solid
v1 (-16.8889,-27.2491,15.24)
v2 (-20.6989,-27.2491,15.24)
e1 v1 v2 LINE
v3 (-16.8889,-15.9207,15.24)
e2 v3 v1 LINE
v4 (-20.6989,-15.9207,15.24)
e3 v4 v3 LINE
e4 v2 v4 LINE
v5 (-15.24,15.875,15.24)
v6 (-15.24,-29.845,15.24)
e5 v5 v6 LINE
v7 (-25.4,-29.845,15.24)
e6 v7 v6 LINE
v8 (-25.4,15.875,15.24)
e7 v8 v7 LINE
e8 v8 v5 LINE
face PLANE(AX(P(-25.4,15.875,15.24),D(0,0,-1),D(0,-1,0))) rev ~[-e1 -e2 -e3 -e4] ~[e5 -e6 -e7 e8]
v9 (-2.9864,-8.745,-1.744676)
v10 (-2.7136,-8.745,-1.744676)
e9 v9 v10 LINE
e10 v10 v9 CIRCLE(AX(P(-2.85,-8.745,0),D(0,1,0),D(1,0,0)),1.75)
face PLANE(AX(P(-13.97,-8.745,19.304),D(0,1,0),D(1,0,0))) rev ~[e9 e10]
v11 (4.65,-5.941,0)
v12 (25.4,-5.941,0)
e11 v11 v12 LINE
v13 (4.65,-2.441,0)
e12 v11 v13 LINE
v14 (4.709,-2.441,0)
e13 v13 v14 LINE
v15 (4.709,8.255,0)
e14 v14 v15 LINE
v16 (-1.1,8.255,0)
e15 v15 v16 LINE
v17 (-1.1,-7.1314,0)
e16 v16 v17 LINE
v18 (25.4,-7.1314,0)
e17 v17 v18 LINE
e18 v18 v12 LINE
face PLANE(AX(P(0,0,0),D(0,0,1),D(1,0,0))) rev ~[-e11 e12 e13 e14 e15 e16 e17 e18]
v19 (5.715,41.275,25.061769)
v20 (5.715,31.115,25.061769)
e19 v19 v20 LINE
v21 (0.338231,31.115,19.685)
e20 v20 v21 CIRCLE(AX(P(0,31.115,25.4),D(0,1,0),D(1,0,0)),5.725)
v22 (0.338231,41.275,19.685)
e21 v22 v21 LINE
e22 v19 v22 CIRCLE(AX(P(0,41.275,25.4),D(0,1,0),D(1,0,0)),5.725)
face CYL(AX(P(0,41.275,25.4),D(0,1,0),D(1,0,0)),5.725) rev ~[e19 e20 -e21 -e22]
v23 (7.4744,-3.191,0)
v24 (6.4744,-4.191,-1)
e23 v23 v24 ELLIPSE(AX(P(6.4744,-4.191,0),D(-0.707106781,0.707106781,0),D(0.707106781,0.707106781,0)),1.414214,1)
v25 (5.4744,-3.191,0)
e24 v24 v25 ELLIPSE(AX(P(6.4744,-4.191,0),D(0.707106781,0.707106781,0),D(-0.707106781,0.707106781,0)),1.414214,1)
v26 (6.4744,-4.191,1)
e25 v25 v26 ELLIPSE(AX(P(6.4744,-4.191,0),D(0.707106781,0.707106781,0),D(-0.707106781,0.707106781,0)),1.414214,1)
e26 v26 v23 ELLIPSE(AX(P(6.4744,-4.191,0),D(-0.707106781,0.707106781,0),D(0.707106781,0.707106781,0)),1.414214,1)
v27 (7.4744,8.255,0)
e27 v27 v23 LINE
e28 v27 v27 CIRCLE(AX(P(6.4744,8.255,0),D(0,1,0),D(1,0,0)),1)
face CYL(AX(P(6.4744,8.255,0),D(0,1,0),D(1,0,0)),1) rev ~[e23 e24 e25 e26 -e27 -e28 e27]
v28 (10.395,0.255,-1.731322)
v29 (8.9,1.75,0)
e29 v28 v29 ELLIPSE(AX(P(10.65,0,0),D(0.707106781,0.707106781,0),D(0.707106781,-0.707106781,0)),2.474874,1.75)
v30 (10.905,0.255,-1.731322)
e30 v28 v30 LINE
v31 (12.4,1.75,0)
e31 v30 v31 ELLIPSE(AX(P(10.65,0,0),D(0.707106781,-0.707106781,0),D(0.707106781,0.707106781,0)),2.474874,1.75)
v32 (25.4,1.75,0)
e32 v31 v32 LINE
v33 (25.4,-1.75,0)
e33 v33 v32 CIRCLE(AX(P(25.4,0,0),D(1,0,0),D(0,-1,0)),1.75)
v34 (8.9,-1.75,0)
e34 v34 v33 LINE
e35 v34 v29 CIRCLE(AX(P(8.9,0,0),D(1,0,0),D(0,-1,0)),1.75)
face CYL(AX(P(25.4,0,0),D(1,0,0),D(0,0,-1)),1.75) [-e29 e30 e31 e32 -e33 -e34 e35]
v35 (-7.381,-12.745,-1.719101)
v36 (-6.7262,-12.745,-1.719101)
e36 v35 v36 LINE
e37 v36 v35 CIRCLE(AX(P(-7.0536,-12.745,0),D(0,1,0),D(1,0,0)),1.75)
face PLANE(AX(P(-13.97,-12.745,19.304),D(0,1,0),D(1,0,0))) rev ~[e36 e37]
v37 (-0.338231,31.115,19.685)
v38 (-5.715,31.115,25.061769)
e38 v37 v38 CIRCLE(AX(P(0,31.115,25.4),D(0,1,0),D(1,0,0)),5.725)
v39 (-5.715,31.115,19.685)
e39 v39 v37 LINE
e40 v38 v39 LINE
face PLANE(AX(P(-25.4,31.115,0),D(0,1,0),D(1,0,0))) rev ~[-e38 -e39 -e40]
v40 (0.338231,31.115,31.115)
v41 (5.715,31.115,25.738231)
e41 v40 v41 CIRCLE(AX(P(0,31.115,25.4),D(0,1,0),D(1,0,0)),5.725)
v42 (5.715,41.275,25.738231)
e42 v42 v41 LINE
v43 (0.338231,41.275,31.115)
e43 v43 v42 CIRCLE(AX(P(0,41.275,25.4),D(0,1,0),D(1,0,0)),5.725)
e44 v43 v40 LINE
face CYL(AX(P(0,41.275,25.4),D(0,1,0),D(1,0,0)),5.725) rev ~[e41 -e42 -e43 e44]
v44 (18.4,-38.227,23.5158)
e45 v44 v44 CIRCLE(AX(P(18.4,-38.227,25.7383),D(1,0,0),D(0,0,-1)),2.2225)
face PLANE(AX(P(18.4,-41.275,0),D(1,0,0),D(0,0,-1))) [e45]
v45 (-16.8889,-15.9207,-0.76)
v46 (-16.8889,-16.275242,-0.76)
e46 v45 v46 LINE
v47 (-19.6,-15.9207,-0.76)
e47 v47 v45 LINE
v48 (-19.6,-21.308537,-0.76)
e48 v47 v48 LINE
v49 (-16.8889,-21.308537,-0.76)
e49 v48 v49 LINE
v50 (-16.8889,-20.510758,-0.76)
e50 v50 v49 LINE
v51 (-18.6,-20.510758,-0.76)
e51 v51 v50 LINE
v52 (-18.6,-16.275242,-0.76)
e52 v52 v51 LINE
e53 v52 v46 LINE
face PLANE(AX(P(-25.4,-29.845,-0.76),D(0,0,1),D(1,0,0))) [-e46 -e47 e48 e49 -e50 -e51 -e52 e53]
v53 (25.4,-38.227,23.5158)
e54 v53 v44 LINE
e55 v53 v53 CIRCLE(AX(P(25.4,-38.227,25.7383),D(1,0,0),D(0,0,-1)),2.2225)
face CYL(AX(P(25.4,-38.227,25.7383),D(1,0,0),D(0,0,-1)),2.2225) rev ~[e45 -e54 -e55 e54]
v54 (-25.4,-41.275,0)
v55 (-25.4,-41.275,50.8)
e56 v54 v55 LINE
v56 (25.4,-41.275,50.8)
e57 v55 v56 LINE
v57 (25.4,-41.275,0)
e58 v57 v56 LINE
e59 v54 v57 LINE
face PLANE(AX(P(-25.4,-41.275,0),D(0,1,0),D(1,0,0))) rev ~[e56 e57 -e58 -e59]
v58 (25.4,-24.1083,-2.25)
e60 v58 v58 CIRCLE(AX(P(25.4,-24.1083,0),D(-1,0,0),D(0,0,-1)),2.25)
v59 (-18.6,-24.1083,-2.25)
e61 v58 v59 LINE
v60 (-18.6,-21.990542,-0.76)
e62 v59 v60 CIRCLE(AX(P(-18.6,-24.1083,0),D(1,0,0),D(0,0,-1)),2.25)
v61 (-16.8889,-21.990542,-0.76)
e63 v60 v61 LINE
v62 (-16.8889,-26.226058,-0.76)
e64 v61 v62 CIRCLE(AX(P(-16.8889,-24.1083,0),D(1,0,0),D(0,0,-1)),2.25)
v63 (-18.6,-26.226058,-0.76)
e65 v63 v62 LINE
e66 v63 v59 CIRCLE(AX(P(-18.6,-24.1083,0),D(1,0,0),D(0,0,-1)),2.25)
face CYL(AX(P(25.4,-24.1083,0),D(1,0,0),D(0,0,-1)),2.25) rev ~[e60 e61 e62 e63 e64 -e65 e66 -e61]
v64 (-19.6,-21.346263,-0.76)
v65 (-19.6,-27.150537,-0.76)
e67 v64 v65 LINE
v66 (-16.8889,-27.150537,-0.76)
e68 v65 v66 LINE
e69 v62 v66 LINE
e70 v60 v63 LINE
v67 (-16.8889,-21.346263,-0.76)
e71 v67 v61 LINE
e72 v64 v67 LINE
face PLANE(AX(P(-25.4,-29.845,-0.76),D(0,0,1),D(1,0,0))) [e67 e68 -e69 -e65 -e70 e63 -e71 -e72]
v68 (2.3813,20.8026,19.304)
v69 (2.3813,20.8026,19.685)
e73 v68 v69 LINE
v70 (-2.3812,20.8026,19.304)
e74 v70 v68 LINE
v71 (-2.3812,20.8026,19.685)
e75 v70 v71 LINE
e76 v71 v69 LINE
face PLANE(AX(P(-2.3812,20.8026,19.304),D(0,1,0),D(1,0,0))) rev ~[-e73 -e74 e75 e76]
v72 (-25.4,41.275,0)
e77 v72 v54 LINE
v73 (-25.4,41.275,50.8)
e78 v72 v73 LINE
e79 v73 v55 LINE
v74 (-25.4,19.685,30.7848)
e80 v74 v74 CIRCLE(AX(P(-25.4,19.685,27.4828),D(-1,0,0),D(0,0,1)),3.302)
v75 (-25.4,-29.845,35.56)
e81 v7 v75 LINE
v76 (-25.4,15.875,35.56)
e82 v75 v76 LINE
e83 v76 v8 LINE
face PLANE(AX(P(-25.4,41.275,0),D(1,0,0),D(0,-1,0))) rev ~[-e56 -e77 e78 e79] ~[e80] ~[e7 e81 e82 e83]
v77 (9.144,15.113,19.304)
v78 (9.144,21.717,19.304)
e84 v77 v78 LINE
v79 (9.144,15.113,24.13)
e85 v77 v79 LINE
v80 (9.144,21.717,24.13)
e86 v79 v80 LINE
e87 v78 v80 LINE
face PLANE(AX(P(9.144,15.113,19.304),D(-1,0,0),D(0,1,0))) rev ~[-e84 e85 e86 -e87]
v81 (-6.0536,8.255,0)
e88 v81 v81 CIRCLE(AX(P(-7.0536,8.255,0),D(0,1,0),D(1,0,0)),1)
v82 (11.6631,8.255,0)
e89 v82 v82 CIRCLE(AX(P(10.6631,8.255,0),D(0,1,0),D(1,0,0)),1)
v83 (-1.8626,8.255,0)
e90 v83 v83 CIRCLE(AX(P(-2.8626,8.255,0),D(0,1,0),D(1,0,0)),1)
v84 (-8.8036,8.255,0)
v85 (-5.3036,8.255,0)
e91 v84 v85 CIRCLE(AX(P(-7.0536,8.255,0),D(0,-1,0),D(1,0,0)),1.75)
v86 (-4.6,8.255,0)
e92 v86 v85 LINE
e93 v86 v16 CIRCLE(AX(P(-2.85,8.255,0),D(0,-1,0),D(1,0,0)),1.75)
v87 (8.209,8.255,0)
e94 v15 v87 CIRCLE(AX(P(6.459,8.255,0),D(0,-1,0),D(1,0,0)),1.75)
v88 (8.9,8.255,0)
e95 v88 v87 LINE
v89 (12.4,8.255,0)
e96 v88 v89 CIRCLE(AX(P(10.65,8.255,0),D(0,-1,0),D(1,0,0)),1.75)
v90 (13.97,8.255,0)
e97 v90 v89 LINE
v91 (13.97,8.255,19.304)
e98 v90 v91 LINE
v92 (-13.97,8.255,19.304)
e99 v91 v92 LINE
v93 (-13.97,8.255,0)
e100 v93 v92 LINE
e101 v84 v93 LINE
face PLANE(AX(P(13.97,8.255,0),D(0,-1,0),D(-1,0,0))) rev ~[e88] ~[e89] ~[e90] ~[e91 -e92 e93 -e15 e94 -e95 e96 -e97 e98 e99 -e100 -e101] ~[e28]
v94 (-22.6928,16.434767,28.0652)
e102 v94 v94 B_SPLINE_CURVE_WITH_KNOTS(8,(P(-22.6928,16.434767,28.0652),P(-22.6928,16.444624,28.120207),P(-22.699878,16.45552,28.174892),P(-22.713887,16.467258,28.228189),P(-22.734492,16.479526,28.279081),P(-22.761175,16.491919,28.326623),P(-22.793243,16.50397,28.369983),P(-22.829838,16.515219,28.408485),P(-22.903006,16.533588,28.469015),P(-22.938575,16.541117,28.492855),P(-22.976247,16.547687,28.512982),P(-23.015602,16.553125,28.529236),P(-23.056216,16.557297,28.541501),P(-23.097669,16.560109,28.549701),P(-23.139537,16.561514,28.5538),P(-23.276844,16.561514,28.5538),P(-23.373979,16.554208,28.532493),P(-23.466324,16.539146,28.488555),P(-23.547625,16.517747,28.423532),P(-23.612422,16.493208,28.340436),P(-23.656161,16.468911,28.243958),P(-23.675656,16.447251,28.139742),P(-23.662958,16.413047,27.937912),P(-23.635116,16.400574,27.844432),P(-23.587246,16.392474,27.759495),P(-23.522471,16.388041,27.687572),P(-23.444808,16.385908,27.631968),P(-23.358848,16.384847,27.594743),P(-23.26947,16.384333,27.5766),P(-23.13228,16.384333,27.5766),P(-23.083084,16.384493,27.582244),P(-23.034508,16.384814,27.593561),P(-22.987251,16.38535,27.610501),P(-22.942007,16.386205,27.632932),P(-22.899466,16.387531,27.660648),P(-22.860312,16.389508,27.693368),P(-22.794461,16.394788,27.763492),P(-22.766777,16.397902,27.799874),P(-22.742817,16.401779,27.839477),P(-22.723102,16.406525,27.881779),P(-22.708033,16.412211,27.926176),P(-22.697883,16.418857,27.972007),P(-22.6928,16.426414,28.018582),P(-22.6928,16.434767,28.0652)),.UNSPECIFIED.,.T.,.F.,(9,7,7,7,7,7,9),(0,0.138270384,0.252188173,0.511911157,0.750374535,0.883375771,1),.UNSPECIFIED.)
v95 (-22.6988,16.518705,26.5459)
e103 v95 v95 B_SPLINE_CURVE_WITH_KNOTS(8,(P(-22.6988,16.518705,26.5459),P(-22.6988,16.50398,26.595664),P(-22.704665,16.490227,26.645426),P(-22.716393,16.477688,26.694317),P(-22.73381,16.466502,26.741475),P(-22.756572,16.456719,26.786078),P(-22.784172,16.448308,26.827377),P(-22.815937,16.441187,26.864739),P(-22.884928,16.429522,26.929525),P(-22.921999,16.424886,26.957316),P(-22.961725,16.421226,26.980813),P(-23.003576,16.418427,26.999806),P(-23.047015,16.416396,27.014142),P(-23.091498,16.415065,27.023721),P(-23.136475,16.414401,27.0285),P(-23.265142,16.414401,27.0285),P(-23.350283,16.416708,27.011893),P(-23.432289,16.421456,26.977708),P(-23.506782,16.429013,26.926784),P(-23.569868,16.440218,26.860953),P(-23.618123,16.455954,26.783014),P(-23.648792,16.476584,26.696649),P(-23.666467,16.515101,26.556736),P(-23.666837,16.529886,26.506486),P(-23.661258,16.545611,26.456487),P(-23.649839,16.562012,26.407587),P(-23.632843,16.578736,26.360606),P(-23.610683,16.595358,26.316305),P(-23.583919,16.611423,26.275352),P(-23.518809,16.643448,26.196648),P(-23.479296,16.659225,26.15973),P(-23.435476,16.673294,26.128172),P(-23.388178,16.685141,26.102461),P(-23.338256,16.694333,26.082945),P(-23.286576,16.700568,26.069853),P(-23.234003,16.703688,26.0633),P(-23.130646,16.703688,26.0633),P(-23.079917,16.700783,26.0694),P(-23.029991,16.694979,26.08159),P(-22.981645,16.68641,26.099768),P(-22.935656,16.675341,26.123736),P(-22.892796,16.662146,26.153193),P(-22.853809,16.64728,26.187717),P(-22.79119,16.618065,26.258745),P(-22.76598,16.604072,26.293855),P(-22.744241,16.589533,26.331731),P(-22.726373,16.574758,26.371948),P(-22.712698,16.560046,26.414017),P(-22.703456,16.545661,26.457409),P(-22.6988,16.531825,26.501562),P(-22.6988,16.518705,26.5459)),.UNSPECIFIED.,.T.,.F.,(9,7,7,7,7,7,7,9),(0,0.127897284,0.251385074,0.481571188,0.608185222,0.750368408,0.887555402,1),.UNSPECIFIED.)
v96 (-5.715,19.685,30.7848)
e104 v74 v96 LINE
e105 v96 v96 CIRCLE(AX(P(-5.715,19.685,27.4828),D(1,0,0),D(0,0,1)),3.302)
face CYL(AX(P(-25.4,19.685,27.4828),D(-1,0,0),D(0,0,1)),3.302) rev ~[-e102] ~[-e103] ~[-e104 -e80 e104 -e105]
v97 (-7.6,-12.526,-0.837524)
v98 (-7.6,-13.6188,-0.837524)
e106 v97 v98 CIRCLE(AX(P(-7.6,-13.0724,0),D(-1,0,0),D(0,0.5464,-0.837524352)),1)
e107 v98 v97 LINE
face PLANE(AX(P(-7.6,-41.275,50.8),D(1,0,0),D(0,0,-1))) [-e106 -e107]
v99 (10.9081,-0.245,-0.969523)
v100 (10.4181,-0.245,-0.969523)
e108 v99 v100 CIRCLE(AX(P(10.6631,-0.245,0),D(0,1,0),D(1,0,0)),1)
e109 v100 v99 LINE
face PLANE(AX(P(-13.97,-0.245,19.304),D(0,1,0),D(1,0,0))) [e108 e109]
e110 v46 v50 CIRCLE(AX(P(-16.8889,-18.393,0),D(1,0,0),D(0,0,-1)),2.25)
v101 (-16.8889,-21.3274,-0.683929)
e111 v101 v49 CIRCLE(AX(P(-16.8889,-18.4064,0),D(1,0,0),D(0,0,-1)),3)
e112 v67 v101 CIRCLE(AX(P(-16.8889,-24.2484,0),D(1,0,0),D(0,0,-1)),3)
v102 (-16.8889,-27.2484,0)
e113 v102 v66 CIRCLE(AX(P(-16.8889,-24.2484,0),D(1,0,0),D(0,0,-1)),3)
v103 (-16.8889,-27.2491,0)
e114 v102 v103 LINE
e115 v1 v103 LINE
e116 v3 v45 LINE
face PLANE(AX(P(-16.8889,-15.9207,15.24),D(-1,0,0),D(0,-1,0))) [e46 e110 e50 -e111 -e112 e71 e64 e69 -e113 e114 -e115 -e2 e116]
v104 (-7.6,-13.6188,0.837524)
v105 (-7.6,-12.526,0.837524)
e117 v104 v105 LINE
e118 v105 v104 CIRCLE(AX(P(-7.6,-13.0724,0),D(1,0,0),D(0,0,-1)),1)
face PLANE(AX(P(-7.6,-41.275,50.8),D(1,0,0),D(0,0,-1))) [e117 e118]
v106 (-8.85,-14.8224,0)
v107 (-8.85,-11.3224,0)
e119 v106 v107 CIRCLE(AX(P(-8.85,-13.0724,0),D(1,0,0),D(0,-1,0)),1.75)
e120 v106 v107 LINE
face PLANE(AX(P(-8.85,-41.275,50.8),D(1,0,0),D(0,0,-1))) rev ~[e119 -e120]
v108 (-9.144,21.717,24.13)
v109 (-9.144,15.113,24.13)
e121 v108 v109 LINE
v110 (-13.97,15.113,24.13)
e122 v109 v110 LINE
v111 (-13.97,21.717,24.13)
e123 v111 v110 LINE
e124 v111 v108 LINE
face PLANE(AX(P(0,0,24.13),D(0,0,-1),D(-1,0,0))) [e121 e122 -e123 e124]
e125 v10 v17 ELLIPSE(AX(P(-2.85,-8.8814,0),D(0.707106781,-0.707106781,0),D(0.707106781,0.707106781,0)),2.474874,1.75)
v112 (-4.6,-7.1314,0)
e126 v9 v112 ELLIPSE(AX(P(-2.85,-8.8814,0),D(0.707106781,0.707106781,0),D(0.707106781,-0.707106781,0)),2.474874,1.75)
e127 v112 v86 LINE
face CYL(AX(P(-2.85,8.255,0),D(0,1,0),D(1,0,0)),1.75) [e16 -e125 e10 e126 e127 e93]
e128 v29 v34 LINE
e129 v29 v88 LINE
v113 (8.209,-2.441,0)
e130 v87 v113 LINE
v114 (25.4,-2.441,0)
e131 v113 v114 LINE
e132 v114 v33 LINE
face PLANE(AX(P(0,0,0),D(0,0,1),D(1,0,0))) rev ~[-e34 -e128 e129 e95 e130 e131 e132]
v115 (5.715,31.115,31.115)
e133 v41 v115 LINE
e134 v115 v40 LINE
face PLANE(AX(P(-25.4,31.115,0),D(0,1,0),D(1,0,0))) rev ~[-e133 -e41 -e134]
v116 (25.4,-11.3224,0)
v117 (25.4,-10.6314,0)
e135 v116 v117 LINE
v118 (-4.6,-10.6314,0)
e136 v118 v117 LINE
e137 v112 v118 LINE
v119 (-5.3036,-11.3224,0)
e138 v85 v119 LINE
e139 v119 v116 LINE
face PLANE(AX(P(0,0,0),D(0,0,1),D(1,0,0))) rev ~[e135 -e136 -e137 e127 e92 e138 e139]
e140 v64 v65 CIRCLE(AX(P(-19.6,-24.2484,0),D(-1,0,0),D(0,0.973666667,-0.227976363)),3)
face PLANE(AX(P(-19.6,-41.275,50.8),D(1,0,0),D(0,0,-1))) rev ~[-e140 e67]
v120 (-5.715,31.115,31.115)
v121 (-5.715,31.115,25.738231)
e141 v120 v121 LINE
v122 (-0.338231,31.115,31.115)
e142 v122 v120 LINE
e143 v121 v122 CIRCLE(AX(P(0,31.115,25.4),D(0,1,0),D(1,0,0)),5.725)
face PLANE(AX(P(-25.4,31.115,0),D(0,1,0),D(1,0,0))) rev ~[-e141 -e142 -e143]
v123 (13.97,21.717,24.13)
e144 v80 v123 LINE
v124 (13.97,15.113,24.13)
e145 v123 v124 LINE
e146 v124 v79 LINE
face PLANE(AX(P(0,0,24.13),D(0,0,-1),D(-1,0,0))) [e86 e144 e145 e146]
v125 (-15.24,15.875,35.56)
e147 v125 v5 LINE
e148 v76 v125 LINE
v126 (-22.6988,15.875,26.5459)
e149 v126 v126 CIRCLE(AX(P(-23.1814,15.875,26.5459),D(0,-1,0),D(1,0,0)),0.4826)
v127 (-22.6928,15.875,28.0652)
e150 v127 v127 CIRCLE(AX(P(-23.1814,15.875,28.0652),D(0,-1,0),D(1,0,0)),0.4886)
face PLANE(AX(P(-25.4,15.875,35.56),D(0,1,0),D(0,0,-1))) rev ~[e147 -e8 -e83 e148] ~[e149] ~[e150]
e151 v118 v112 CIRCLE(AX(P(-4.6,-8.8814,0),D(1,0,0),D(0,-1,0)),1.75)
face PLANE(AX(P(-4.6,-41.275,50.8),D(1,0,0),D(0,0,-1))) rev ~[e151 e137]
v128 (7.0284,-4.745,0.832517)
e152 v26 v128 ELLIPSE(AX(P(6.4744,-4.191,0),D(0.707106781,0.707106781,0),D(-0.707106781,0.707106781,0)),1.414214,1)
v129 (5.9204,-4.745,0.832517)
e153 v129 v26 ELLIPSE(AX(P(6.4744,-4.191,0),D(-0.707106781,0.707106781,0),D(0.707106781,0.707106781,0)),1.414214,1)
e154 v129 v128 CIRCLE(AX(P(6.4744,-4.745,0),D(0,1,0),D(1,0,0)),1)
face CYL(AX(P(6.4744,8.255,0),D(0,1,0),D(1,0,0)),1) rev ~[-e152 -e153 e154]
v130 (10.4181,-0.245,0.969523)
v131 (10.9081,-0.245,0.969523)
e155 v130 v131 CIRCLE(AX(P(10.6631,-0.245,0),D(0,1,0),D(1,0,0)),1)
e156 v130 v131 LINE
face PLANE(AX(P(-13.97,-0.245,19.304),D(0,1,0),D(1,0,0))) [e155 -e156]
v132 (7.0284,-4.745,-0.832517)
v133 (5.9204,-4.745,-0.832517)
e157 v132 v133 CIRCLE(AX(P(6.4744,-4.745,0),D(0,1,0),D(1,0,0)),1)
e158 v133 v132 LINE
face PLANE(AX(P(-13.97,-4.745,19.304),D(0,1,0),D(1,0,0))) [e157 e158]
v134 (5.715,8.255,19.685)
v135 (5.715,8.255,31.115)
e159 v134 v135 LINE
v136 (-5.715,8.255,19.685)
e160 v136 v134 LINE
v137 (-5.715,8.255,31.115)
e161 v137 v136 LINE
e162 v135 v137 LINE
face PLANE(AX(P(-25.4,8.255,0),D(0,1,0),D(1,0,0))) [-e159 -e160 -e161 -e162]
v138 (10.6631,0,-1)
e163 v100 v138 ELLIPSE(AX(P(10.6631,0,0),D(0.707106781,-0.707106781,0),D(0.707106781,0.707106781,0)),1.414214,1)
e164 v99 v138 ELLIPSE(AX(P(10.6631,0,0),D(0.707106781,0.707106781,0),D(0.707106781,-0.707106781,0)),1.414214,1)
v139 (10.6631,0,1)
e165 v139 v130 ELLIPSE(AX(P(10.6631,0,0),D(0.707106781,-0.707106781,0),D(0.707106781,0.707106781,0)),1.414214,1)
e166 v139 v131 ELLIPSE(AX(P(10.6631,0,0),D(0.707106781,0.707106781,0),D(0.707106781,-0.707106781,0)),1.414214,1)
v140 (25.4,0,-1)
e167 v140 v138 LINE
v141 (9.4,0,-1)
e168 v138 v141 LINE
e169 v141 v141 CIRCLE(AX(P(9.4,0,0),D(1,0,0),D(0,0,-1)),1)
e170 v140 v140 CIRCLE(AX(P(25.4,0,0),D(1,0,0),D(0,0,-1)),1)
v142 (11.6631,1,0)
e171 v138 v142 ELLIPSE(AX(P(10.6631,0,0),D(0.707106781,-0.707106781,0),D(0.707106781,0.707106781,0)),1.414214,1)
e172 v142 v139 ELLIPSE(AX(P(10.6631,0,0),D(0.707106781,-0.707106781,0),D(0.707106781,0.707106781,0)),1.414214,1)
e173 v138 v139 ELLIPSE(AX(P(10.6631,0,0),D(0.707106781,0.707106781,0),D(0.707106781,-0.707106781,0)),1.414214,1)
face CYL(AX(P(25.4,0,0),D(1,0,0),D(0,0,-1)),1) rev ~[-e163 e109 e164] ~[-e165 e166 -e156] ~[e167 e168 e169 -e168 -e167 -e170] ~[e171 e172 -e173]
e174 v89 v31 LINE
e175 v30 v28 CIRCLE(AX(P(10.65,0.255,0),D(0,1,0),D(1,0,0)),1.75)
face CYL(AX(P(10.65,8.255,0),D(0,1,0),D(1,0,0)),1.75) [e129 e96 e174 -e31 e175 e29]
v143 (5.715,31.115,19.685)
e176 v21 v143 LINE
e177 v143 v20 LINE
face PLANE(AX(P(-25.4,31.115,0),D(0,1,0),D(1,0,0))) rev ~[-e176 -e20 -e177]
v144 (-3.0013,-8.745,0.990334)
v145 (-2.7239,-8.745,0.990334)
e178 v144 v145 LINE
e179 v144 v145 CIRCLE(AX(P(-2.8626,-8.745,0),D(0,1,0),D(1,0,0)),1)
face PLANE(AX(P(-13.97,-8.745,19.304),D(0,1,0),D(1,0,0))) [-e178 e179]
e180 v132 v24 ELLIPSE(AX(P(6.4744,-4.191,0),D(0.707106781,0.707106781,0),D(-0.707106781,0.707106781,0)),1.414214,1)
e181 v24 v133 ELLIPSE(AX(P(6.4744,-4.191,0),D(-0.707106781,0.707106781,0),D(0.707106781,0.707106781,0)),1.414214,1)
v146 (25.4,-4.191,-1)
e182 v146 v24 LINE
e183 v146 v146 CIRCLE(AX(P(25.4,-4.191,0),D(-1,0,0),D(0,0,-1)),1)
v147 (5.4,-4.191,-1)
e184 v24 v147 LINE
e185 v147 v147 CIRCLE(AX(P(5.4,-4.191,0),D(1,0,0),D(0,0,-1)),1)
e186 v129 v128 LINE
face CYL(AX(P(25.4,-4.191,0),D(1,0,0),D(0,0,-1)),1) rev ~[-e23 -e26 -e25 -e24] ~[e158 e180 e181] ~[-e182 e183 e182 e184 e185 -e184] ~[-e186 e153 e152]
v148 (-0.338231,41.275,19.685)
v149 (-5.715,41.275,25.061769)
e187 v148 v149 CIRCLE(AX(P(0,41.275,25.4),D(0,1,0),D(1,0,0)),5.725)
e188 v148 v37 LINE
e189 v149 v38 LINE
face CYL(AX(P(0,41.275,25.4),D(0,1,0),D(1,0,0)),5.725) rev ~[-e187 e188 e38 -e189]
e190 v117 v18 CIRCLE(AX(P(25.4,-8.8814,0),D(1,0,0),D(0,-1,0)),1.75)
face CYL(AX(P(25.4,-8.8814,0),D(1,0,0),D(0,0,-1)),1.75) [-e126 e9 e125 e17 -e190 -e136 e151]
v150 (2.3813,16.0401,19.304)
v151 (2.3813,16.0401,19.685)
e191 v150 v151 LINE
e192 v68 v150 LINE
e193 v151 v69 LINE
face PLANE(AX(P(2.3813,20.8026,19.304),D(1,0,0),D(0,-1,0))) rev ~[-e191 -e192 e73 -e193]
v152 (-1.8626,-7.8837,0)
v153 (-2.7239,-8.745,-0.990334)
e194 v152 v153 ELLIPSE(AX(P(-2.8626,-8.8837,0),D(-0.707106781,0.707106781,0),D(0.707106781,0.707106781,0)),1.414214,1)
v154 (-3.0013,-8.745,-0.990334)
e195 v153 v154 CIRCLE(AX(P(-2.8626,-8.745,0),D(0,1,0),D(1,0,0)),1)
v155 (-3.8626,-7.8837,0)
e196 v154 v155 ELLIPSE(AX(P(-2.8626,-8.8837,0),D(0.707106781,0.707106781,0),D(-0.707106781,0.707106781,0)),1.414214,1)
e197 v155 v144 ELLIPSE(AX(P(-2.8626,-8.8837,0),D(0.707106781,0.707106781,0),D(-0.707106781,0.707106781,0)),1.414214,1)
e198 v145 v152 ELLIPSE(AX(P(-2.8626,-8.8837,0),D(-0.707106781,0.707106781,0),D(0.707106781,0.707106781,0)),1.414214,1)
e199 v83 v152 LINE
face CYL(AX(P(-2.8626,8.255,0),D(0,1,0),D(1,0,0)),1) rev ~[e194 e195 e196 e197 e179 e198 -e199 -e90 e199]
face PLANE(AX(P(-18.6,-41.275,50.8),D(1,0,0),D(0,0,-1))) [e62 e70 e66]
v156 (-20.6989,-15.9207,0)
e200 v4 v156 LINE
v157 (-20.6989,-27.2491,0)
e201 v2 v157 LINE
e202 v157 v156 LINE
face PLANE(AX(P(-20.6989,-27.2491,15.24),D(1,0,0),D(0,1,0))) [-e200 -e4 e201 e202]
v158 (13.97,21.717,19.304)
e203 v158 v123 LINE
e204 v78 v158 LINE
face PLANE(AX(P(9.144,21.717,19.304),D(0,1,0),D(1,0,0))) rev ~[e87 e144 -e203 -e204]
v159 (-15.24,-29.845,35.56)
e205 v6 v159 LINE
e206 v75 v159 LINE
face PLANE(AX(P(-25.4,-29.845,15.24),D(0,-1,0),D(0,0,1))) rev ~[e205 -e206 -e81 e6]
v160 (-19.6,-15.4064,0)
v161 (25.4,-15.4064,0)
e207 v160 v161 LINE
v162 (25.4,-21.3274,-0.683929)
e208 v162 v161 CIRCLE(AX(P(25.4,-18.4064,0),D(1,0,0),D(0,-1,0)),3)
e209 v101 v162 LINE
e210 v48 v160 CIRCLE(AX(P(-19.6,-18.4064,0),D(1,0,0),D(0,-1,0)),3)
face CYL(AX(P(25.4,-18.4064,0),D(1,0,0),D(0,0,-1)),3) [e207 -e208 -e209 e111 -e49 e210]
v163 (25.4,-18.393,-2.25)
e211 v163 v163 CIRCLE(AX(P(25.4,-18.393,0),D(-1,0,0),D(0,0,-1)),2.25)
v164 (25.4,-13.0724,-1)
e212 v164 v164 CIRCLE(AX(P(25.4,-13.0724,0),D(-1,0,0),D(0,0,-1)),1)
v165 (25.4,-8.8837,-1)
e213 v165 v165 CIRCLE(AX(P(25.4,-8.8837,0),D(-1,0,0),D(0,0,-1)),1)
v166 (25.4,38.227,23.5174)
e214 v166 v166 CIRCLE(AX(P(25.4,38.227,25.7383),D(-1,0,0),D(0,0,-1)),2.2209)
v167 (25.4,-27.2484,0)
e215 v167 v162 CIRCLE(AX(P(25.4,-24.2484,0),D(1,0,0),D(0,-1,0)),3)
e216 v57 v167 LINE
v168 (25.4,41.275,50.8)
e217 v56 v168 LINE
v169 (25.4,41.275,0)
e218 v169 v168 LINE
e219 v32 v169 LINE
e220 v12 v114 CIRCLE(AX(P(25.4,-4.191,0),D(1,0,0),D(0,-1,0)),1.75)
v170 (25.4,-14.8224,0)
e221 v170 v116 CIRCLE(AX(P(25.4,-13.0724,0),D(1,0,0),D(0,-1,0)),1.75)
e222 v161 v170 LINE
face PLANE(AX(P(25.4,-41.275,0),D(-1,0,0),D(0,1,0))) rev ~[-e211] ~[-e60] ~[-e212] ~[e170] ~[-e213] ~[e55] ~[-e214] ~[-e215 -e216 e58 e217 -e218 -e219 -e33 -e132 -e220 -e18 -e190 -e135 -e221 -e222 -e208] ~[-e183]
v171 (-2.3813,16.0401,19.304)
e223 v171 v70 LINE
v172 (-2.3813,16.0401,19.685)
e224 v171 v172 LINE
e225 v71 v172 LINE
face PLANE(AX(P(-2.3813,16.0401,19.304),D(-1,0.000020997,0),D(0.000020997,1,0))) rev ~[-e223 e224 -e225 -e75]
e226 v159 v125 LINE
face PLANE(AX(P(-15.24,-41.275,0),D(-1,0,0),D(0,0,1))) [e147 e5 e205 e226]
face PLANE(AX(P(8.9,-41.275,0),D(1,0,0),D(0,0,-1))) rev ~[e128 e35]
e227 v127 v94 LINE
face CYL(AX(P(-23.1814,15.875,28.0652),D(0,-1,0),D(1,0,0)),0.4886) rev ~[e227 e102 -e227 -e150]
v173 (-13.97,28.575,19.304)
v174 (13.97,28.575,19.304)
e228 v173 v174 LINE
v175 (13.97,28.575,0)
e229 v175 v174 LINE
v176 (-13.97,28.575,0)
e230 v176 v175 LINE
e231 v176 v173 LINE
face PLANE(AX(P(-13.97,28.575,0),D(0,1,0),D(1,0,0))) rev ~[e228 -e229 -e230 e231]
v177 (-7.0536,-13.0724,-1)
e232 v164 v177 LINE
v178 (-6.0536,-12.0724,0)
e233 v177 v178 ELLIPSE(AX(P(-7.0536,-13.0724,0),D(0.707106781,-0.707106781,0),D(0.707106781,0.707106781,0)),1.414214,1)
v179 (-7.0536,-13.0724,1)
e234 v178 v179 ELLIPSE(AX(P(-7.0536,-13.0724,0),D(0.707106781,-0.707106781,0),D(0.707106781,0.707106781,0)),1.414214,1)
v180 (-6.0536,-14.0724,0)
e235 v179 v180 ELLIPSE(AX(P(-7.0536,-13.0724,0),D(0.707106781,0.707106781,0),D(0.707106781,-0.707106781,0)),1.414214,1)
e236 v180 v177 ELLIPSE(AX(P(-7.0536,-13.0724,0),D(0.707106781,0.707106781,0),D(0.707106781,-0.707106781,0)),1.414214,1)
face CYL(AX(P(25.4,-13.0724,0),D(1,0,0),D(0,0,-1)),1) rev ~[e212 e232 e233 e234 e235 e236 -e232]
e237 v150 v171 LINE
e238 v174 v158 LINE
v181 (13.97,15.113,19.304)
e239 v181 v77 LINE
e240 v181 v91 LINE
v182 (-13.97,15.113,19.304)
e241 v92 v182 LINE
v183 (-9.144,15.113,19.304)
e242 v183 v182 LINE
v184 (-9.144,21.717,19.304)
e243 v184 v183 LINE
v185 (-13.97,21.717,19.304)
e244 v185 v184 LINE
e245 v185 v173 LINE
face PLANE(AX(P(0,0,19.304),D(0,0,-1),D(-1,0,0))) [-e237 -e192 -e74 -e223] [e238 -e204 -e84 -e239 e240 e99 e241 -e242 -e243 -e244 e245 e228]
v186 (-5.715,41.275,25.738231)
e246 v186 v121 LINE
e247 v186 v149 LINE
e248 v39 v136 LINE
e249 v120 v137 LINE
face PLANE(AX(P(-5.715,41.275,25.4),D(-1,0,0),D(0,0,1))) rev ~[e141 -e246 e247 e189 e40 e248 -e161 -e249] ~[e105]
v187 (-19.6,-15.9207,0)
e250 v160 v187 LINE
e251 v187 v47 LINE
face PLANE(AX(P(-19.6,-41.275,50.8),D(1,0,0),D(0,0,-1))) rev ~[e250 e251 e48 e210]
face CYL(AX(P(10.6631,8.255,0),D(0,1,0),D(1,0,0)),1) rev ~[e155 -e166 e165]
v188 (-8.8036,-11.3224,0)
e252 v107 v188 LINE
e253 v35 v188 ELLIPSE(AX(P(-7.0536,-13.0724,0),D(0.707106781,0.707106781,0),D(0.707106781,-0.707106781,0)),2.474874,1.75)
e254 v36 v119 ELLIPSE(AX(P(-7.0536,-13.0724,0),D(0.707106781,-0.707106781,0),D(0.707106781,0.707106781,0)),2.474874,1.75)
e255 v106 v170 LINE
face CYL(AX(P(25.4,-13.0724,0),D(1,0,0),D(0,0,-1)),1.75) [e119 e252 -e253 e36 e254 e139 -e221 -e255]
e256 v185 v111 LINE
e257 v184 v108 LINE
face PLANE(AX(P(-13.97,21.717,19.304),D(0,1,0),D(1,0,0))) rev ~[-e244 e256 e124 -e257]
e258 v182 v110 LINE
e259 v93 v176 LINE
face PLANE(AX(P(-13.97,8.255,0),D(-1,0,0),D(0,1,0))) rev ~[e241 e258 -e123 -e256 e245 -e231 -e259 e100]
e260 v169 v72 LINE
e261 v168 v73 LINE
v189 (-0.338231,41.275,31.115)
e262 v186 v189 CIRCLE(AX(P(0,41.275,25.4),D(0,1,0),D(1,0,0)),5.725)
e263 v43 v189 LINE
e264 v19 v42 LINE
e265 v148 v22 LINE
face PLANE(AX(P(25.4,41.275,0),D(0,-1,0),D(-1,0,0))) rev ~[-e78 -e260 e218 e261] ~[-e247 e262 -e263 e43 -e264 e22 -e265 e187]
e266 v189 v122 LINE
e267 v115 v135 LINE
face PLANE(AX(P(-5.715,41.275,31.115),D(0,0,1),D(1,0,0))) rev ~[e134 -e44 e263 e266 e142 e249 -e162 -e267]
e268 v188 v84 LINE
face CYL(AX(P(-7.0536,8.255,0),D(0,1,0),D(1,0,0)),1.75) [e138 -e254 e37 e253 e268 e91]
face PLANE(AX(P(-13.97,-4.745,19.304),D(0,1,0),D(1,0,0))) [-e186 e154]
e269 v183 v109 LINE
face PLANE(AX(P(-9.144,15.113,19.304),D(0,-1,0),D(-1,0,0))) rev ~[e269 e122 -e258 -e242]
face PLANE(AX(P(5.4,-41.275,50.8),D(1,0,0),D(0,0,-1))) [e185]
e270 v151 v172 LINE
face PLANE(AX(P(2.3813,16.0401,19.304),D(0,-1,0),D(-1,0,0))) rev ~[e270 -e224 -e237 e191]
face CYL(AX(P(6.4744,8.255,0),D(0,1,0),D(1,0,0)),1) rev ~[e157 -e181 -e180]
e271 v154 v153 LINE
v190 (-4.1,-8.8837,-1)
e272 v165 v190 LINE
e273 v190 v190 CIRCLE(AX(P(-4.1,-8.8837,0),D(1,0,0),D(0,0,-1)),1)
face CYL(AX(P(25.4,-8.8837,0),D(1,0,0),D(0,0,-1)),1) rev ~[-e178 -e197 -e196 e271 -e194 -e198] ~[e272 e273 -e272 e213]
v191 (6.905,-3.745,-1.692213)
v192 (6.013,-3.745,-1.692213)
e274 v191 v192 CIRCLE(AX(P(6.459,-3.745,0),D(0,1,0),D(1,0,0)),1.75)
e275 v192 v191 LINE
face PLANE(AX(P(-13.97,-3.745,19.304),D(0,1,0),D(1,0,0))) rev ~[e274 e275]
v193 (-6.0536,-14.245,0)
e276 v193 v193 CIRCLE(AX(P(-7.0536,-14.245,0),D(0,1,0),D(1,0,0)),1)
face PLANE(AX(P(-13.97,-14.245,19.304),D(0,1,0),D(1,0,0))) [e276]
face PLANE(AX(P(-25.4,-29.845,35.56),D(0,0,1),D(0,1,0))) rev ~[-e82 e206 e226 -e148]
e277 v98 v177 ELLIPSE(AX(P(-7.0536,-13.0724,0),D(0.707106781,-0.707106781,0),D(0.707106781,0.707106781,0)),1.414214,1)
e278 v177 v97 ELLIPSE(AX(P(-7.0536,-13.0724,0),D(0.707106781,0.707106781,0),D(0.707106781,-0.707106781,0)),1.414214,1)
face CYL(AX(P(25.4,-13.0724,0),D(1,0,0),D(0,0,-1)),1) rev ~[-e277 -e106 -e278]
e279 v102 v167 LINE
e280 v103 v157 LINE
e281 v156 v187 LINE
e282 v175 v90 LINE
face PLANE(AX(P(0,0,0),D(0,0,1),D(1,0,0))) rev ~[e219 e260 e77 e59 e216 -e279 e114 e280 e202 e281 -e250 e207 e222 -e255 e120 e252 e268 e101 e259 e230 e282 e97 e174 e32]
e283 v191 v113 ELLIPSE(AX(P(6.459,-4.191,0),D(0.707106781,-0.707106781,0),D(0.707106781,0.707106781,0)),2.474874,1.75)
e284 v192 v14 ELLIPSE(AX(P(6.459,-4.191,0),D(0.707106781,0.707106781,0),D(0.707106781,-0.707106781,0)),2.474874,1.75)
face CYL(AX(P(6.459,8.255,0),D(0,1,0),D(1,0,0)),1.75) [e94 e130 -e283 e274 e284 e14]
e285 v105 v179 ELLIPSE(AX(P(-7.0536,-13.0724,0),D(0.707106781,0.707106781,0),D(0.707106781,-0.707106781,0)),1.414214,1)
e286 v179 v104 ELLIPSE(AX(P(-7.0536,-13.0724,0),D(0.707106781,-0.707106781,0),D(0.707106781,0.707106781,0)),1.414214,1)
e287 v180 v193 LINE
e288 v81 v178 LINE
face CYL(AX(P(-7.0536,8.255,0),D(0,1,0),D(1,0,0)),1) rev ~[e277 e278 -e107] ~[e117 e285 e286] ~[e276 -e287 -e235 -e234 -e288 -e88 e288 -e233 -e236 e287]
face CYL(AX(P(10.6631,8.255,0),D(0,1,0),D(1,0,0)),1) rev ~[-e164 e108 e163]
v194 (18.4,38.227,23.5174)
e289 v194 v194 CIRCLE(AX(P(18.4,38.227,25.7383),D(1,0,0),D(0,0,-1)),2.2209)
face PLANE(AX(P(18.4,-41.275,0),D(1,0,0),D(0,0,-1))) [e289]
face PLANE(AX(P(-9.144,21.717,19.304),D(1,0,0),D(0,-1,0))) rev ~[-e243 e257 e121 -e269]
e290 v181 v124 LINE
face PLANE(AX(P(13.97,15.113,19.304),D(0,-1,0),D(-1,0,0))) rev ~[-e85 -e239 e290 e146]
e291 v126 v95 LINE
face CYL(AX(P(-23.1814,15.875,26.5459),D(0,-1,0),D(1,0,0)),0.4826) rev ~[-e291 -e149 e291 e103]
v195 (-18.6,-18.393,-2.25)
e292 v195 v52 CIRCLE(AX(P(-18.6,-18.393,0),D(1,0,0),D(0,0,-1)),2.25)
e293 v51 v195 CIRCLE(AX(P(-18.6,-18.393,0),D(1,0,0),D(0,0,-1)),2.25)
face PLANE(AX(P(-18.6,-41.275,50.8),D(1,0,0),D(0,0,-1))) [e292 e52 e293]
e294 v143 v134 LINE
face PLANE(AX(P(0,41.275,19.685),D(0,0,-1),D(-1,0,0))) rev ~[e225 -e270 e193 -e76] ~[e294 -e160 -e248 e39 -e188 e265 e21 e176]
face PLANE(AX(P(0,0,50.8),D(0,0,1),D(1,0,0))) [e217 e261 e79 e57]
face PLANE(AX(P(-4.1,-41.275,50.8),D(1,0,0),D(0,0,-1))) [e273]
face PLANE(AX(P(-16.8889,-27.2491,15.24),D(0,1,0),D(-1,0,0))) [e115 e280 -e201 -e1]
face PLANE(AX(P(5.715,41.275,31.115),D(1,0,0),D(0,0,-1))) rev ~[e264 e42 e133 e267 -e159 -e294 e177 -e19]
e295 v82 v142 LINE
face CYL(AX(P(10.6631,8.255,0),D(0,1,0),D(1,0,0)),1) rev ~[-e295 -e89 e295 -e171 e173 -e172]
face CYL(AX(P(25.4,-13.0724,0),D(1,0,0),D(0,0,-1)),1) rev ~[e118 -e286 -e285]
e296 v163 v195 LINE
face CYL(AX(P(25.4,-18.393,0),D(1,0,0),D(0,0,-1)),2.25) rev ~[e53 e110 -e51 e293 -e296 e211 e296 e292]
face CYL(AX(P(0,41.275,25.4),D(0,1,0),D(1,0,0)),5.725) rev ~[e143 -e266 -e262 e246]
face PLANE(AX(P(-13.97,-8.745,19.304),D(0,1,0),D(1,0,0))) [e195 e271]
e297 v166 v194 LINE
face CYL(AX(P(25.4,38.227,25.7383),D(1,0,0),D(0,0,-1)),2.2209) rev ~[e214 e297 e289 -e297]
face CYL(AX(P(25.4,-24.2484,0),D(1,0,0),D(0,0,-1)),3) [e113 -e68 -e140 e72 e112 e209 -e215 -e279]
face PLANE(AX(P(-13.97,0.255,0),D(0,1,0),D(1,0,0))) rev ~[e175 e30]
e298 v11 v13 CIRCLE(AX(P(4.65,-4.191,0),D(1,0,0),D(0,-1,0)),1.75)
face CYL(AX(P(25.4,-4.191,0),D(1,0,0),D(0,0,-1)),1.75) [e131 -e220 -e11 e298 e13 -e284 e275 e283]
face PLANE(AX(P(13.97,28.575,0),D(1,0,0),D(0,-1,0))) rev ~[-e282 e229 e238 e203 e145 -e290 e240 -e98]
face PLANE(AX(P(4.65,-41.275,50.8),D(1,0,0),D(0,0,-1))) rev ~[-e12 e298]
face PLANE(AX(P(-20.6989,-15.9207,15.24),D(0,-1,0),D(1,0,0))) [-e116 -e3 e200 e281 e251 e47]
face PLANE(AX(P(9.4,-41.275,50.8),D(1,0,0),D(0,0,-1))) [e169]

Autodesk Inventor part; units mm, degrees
ref_plane "YZ Plane" through (0, 0, 0) normal (1, 0, 0) x (0, 1, 0)
ref_plane "XZ Plane" through (0, 0, 0) normal (0, 1, 0) x (-1, 0, 0)
ref_plane "XY Plane" through (0, 0, 0) normal (0, 0, 1) x (1, 0, 0)
sketch "Sketch1" plane through (0, 0, 0) normal (0, 0, 1) x (1, 0, 0)
  line L0 (-25.4, -41.275) -> (25.4, -41.275)
  line L1 (25.4, -41.275) -> (25.4, 41.275)
  line L2 (25.4, 41.275) -> (-25.4, 41.275)
  line L3 (-25.4, 41.275) -> (-25.4, -41.275)
  line L4 (-25.4, -41.275) -> (25.4, 41.275) construction
  line L5 (25.4, -41.275) -> (-25.4, 41.275) construction
  point P0 (0, 0)
  dimension "d0" = 50.8
  dimension "d1" = 82.55
extrude "Extrusion1" add sketch "Sketch1" along normal blind 50.8
sketch "Sketch2" plane through (-25.4, 41.275, 0) normal (0, 1, 0) x (1, 0, 0)
  circle A0 centre (25.4, -25.4) radius 5.715
  line L0 (50.8, 0) -> (0, 0) projected
  point P0 (25.4, 0)
  dimension "d4" = 11.43
  dimension "d5" = 25.4
extrude "Extrusion2" cut sketch "Sketch2" against normal blind 33.02
sketch "Sketch3" plane through (0, 0, 0) normal (0, 0, -1) x (-1, 0, 0)
  line L0 (-13.97, 8.255) -> (13.97, 8.255)
  line L1 (13.97, 8.255) -> (13.97, 28.575)
  line L2 (13.97, 28.575) -> (-13.97, 28.575)
  line L3 (-13.97, 28.575) -> (-13.97, 8.255)
  line L4 (-13.97, 8.255) -> (13.97, 28.575) construction
  line L5 (13.97, 8.255) -> (-13.97, 28.575) construction
  line L6 (-25.4, 41.275) -> (25.4, 41.275) projected
  line L7 (25.4, 41.275) -> (25.4, -41.275) projected
  point P0 (0, 0)
  point P1 (0, 18.415)
  dimension "d9" = 27.94
  dimension "d10" = 20.32
  dimension "d11" = 12.7
  dimension "d14" = 25.4
extrude "Extrusion3" cut sketch "Sketch3" against normal blind 19.304
sketch "Sketch6" plane through (0, 0, 19.304) normal (0, 0, -1) x (-1, 0, 0)
  line L0 (-13.97, 15.113) -> (-9.144, 15.113)
  line L1 (-9.144, 15.113) -> (-9.144, 21.717)
  line L2 (-9.144, 21.717) -> (-13.97, 21.717)
  line L3 (-13.97, 21.717) -> (-13.97, 15.113)
  line L4 (-13.97, 15.113) -> (-9.144, 21.717) construction
  line L5 (-9.144, 15.113) -> (-13.97, 21.717) construction
  line L6 (13.97, 28.575) -> (13.97, 8.255) projected
  line L7 (9.144, 15.113) -> (13.97, 15.113)
  line L8 (13.97, 15.113) -> (13.97, 21.717)
  line L9 (13.97, 21.717) -> (9.144, 21.717)
  line L10 (9.144, 21.717) -> (9.144, 15.113)
  line L11 (9.144, 15.113) -> (13.97, 21.717) construction
  line L12 (13.97, 15.113) -> (9.144, 21.717) construction
  line L13 (-13.97, 8.255) -> (-13.97, 28.575) projected
  line L14 (-13.97, 28.575) -> (13.97, 28.575) projected
  point P0 (0, 0)
  point P1 (-11.557, 18.415)
  point P2 (11.557, 18.415)
  point P3 (13.97, 15.113)
  dimension "d15" = 6.604
  dimension "d16" = 4.826
  dimension "d17" = 2.413
  dimension "d18" = 4.826
  dimension "d19" = 6.604
  dimension "d21" = 6.858
  dimension "d22" = 6.858
extrude "Extrusion4" cut sketch "Sketch6" against normal blind 4.826
sketch "Sketch7" plane through (0, 0, 19.304) normal (0, 0, -1) x (-1, 0, 0)
  line L0 (-2.3813, 16.0401) -> (2.3813, 16.0401)
  line L1 (2.3813, 16.0401) -> (2.3812, 20.8026)
  line L2 (2.3812, 20.8026) -> (-2.3813, 20.8026)
  line L3 (-2.3813, 20.8026) -> (-2.3813, 16.0401)
  line L4 (-2.3813, 16.0401) -> (2.3812, 20.8026) construction
  line L5 (2.3813, 16.0401) -> (-2.3813, 20.8026) construction
  line L6 (9.144, 15.113) -> (9.144, 21.717) projected
  line L7 (-13.97, 28.575) -> (13.97, 28.575) projected
  point P0 (0, 0)
  point P1 (0, 18.4213)
  point P2 (0, 20.8026)
  dimension "d25" = 4.7625
  dimension "d26" = 9.144
  dimension "d27" = 4.7625
  dimension "d29" = 7.7724
extrude "Extrusion5" cut sketch "Sketch7" against normal blind 4.826
sketch "Sketch8" plane through (-25.4, -41.275, 0) normal (-1, 0, 0) x (0, 0, 1)
  line L0 (15.24, 11.43) -> (35.56, 11.43)
  line L1 (35.56, 11.43) -> (35.56, 57.15)
  line L2 (35.56, 57.15) -> (15.24, 57.15)
  line L3 (15.24, 57.15) -> (15.24, 11.43)
  line L4 (15.24, 11.43) -> (35.56, 57.15) construction
  line L5 (35.56, 11.43) -> (15.24, 57.15) construction
  line L6 (50.8, 82.55) -> (50.8, 0) projected
  line L7 (0, 82.55) -> (50.8, 82.55) projected
  point P0 (0, 41.275)
  point P1 (25.4, 34.29)
  dimension "d32" = 45.72
  dimension "d33" = 20.32
  dimension "d34" = 25.4
  dimension "d35" = 25.4
extrude "Extrusion6" cut sketch "Sketch8" against normal blind 10.16
sketch "Sketch11" plane through (-25.4, -41.275, 0) normal (-1, 0, 0) x (0, 0, 1)
  circle A0 centre (27.4828, 60.96) radius 3.302
  line L0 (0, 82.55) -> (50.8, 82.55) projected
  line L1 (50.8, 82.55) -> (50.8, 0) projected
  point P0 (0, 41.275)
  dimension "d43" = 6.604
  dimension "d44" = 21.59
  dimension "d45" = 23.3172
extrude "Extrusion7" cut sketch "Sketch11" against normal blind 25.4
sketch "Sketch14" plane through (-25.4, 41.275, 0) normal (0, 1, 0) x (1, 0, 0)
  line L0 (19.685, -31.115) -> (31.115, -31.115)
  line L1 (31.115, -31.115) -> (31.115, -19.685)
  line L2 (31.115, -19.685) -> (19.685, -19.685)
  line L3 (19.685, -19.685) -> (19.685, -31.115)
  circle A0 centre (25.4, -25.4) radius 5.715 projected
  line L4 (19.685, -31.115) -> (31.115, -19.685) construction
  line L5 (31.115, -31.115) -> (19.685, -19.685) construction
  point P0 (25.4, 0)
extrude "Extrusion8" cut sketch "Sketch14" against normal blind 33.02
sketch "Sketch15" plane through (-25.4, 41.275, 0) normal (0, 1, 0) x (1, 0, 0)
  circle A0 centre (25.4, -25.4) radius 5.725
  line L0 (31.115, -19.685) -> (31.115, -31.115) projected
  line L1 (19.685, -19.685) -> (31.115, -19.685)
  line L2 (31.115, -19.685) -> (31.115, -31.115)
  line L3 (31.115, -31.115) -> (19.685, -31.115)
  line L4 (19.685, -31.115) -> (19.685, -19.685)
  line L5 (19.685, -19.685) -> (31.115, -31.115) construction
  line L6 (31.115, -19.685) -> (19.685, -31.115) construction
  point P0 (25.4, 0)
  point P1 (19.685, -25.0617)
  point P2 (25.0617, -19.685)
  point P3 (25.7383, -19.685)
  point P4 (31.115, -25.0617)
  point P5 (19.685, -25.7383)
  point P6 (25.0617, -31.115)
  point P7 (25.7383, -31.115)
  point P8 (31.115, -25.7383)
extrude "Extrusion9" add sketch "Sketch15" against normal blind 10.16 contours A0 L1 L0 | L0 L3 A0 | A0 L4 L1 | L3 L4 A0
sketch "Sketch16" plane through (-25.4, 15.875, 15.24) normal (0, -1, 0) x (1, 0, 0)
  circle A0 centre (2.2186, 12.8252) radius 0.4886
  circle A1 centre (2.2186, 11.3059) radius 0.4826
  line L0 (11.43, 4.064) -> (11.43, 8.89) projected
  point P0 (25.4, -15.24)
  dimension "d57" = 0.9772
  dimension "d59" = 0.9652
extrude "Extrusion10" cut sketch "Sketch16" against normal blind 2.54
sketch "Sketch17" plane through (25.4, -41.275, 0) normal (1, 0, 0) x (0, 0, -1)
  line L0 (-25.7383, 82.55) -> (-25.7383, 72.39) projected
  circle A0 centre (-25.7383, 79.502) radius 2.2209
  circle A1 centre (-25.7383, 3.048) radius 2.2225
  line L1 (0, 82.55) -> (-50.8, 82.55) projected
  line L2 (0, 0) -> (-50.8, 0) projected
  point P0 (0, 41.275)
  dimension "d62" = 4.4418
  dimension "d63" = 4.445
  dimension "d64" = 3.048
  dimension "d65" = 3.048
extrude "Extrusion11" cut sketch "Sketch17" against normal blind 7
sketch "Sketch18" plane through (25.4, -41.275, 0) normal (1, 0, 0) x (0, 0, -1)
  line L0 (0, 0) -> (0, 82.55) projected
  circle A0 centre (0, 41.275) radius 1.75
  point P0 (0, 41.275)
  dimension "d71" = 3.5
extrude "Extrusion12" add sketch "Sketch18" against normal blind 16.5
sketch "Sketch19" plane through (-13.97, 8.255, 0) normal (0, 1, 0) x (1, 0, 0)
  line L0 (0, 0) -> (27.94, 0) projected
  circle A0 centre (24.62, 0) radius 1.75
  line L1 (22.87, 1.75) -> (22.87, 0) projected
  point P0 (13.97, 0)
  dimension "d77" = 3.5
  dimension "d78" = 1.75
extrude "Extrusion13" add sketch "Sketch19" against normal blind 8
sketch "Sketch20" plane through (25.4, -41.275, 50.8) normal (1, 0, 0) x (0, 0, -1)
  circle A0 centre (50.8, 41.275) radius 1
  dimension "d81" = 2
extrude "Extrusion14" cut sketch "Sketch20" against normal blind 16
sketch "Sketch21" plane through (-13.97, 8.255, 19.304) normal (0, 1, 0) x (1, 0, 0)
  circle A0 centre (24.6331, 19.304) radius 1
  arc A1 (26.37, 19.304) -> (22.87, 19.304) centre (24.62, 19.304) ccw projected
  point P0 (13.97, 19.304)
  dimension "d84" = 2
extrude "Extrusion15" cut sketch "Sketch21" against normal blind 8.5
sketch "Sketch22" plane through (25.4, -41.275, 50.8) normal (1, 0, 0) x (0, 0, -1)
  line L0 (50.8, 82.55) -> (50.8, 0) projected
  circle A0 centre (50.8, 37.084) radius 1.75
  point P0 (50.8, 41.275)
  point P1 (50.8, 41.275)
  dimension "d88" = 3.5
  dimension "d89" = 4.191
extrude "Extrusion16" add sketch "Sketch22" against normal blind 20.75
sketch "Sketch23" plane through (-13.97, 8.255, 19.304) normal (0, 1, 0) x (1, 0, 0)
  line L0 (0, 19.304) -> (22.87, 19.304) projected
  circle A0 centre (20.429, 19.304) radius 1.75
  arc A1 (26.37, 19.304) -> (22.87, 19.304) centre (24.62, 19.304) ccw projected
  point P0 (13.97, 19.304)
  dimension "d92" = 3.5
  dimension "d93" = 4.191
extrude "Extrusion17" add sketch "Sketch23" against normal blind 12
sketch "Sketch24" plane through (-13.97, 8.255, 19.304) normal (0, 1, 0) x (1, 0, 0)
  circle A0 centre (20.4444, 19.304) radius 1
  arc A1 (22.179, 19.304) -> (18.679, 19.304) centre (20.429, 19.304) ccw projected
  point P0 (13.97, 19.304)
  dimension "d96" = 2
  dimension "d97" = 0.0154
extrude "Extrusion18" cut sketch "Sketch24" against normal blind 13
sketch "Sketch25" plane through (25.4, -41.275, 50.8) normal (1, 0, 0) x (0, 0, -1)
  line L0 (50.8, 38.834) -> (50.8, 35.334) projected
  circle A0 centre (50.8, 37.084) radius 1
  point P0 (50.8, 41.275)
  dimension "d100" = 2
extrude "Extrusion19" cut sketch "Sketch25" against normal blind 20
sketch "Sketch26" plane through (25.4, -41.275, 50.8) normal (1, 0, 0) x (0, 0, -1)
  line L0 (50.8, 82.55) -> (50.8, 0) projected
  circle A0 centre (50.8, 32.3936) radius 1.75
  point P0 (50.8, 41.275)
  dimension "d103" = 3.5
extrude "Extrusion20" add sketch "Sketch26" against normal blind 30
sketch "Sketch27" plane through (-13.97, 8.255, 19.304) normal (0, 1, 0) x (1, 0, 0)
  line L0 (0, 19.304) -> (18.679, 19.304) projected
  circle A0 centre (11.12, 19.304) radius 1.75
  line L1 (9.37, 21.054) -> (9.37, 19.304) projected
  point P0 (13.97, 19.304)
  dimension "d106" = 3.5
  dimension "d107" = 1.75
extrude "Extrusion21" add sketch "Sketch27" against normal blind 17
sketch "Sketch28" plane through (-13.97, 8.255, 19.304) normal (0, 1, 0) x (1, 0, 0)
  circle A0 centre (11.1074, 19.304) radius 1
  point P0 (13.97, 19.304)
  dimension "d110" = 2
extrude "Extrusion22" cut sketch "Sketch28" against normal blind 17
sketch "Sketch30" plane through (25.4, -41.275, 50.8) normal (1, 0, 0) x (0, 0, -1)
  line L0 (50.8, 82.55) -> (50.8, 0) projected
  circle A0 centre (50.8, 32.3913) radius 1
  point P0 (50.8, 41.275)
  dimension "d113" = 2
extrude "Extrusion23" cut sketch "Sketch30" against normal blind 29.5
sketch "Sketch31" plane through (25.4, -41.275, 50.8) normal (1, 0, 0) x (0, 0, -1)
  line L0 (50.8, 0) -> (50.8, 30.6436) projected
  circle A0 centre (50.8, 28.2026) radius 1.75
  line L1 (50.8, 34.1436) -> (50.8, 30.6436) projected
  point P0 (50.8, 41.275)
  point P1 (50.8, 32.3936)
  dimension "d116" = 3.5
  dimension "d117" = 4.191
extrude "Extrusion24" add sketch "Sketch31" against normal blind 34.25
sketch "Sketch32" plane through (-13.97, 8.255, 19.304) normal (0, 1, 0) x (1, 0, 0)
  line L0 (0, 19.304) -> (9.37, 19.304) projected
  circle A0 centre (6.9164, 19.304) radius 1.75
  circle A1 centre (11.1074, 19.304) radius 1 projected
  point P0 (13.97, 19.304)
  dimension "d120" = 3.5
  dimension "d121" = 4.191
extrude "Extrusion25" add sketch "Sketch32" against normal blind 21 contours A0 L0 | L0 A0
sketch "Sketch33" plane through (25.4, -41.275, 50.8) normal (1, 0, 0) x (0, 0, -1)
  line L0 (50.8, 29.9526) -> (50.8, 26.4526) projected
  circle A0 centre (50.8, 28.2026) radius 1
  point P0 (50.8, 41.275)
  dimension "d124" = 2
extrude "Extrusion26" cut sketch "Sketch33" against normal blind 33
sketch "Sketch34" plane through (-13.97, 8.255, 19.304) normal (0, 1, 0) x (1, 0, 0)
  arc A0 (8.6664, 19.304) -> (5.1664, 19.304) centre (6.9164, 19.304) ccw projected
  circle A1 centre (6.9164, 19.304) radius 1
  point P0 (13.97, 19.304)
  dimension "d127" = 2
extrude "Extrusion27" cut sketch "Sketch34" against normal blind 22.5
sketch "Sketch35" plane through (25.4, -41.275, 50.8) normal (1, 0, 0) x (0, 0, -1)
  line L0 (50.8, 0) -> (50.8, 26.4526) projected
  circle A0 centre (50.8, 22.8686) radius 3
  circle A1 centre (50.8, 28.2026) radius 1 projected
  point P0 (50.8, 41.275)
  dimension "d130" = 6
  dimension "d131" = 5.334
extrude "Extrusion28" add sketch "Sketch35" against normal blind 45 contours A0 L0 | L0 A0
sketch "Sketch36" plane through (25.4, -41.275, 50.8) normal (1, 0, 0) x (0, 0, -1)
  line L0 (50.8, 82.55) -> (50.8, 0) projected
  circle A0 centre (50.8, 17.0266) radius 3
  arc A1 (50.8, 19.8686) -> (50.8, 25.8686) centre (50.8, 22.8686) ccw projected
  point P0 (50.8, 41.275)
  dimension "d134" = 6
  dimension "d135" = 5.842
extrude "Extrusion29" add sketch "Sketch36" against normal blind 45 contours A0 A1 L0 | L0 A0 | A0 L0 A1 picked at (50.8766, 19.971) picked at (51.0225, 15.999)
sketch "Sketch38" plane through (25.4, -41.275, 50.8) normal (1, 0, 0) x (0, 0, -1)
  line L0 (50.8, 82.55) -> (50.8, 0) projected
  circle A0 centre (50.8, 22.882) radius 2.25
  circle A1 centre (50.8, 17.1667) radius 2.25
  point P0 (50.8, 41.275)
  dimension "d139" = 4.5
  dimension "d140" = 4.5
extrude "Extrusion30" cut sketch "Sketch38" against normal blind 44
sketch "Sketch39" plane through (-25.4, -29.845, 15.24) normal (0, 0, 1) x (1, 0, 0)
  line L0 (8.5111, 2.5959) -> (4.7011, 2.5959)
  line L1 (4.7011, 2.5959) -> (4.7011, 13.9243)
  line L2 (4.7011, 13.9243) -> (8.5111, 13.9243)
  line L3 (8.5111, 13.9243) -> (8.5111, 2.5959)
  line L4 (8.5111, -0.4043) -> (7.0851, 7.4931) construction
  line L5 (-0.3554, -0.4043) -> (5.3241, 7.2919) construction
  point P0 (25.4, 29.845)
  point P1 (7.7981, 3.5444)
  point P2 (0, -11.43)
  dimension "d145" = 11.3284
  dimension "d146" = 3.81
  dimension "d147" = 14.0259
extrude "Extrusion31" cut sketch "Sketch39" against normal blind 16
properties part number "LightSensorHousing"
